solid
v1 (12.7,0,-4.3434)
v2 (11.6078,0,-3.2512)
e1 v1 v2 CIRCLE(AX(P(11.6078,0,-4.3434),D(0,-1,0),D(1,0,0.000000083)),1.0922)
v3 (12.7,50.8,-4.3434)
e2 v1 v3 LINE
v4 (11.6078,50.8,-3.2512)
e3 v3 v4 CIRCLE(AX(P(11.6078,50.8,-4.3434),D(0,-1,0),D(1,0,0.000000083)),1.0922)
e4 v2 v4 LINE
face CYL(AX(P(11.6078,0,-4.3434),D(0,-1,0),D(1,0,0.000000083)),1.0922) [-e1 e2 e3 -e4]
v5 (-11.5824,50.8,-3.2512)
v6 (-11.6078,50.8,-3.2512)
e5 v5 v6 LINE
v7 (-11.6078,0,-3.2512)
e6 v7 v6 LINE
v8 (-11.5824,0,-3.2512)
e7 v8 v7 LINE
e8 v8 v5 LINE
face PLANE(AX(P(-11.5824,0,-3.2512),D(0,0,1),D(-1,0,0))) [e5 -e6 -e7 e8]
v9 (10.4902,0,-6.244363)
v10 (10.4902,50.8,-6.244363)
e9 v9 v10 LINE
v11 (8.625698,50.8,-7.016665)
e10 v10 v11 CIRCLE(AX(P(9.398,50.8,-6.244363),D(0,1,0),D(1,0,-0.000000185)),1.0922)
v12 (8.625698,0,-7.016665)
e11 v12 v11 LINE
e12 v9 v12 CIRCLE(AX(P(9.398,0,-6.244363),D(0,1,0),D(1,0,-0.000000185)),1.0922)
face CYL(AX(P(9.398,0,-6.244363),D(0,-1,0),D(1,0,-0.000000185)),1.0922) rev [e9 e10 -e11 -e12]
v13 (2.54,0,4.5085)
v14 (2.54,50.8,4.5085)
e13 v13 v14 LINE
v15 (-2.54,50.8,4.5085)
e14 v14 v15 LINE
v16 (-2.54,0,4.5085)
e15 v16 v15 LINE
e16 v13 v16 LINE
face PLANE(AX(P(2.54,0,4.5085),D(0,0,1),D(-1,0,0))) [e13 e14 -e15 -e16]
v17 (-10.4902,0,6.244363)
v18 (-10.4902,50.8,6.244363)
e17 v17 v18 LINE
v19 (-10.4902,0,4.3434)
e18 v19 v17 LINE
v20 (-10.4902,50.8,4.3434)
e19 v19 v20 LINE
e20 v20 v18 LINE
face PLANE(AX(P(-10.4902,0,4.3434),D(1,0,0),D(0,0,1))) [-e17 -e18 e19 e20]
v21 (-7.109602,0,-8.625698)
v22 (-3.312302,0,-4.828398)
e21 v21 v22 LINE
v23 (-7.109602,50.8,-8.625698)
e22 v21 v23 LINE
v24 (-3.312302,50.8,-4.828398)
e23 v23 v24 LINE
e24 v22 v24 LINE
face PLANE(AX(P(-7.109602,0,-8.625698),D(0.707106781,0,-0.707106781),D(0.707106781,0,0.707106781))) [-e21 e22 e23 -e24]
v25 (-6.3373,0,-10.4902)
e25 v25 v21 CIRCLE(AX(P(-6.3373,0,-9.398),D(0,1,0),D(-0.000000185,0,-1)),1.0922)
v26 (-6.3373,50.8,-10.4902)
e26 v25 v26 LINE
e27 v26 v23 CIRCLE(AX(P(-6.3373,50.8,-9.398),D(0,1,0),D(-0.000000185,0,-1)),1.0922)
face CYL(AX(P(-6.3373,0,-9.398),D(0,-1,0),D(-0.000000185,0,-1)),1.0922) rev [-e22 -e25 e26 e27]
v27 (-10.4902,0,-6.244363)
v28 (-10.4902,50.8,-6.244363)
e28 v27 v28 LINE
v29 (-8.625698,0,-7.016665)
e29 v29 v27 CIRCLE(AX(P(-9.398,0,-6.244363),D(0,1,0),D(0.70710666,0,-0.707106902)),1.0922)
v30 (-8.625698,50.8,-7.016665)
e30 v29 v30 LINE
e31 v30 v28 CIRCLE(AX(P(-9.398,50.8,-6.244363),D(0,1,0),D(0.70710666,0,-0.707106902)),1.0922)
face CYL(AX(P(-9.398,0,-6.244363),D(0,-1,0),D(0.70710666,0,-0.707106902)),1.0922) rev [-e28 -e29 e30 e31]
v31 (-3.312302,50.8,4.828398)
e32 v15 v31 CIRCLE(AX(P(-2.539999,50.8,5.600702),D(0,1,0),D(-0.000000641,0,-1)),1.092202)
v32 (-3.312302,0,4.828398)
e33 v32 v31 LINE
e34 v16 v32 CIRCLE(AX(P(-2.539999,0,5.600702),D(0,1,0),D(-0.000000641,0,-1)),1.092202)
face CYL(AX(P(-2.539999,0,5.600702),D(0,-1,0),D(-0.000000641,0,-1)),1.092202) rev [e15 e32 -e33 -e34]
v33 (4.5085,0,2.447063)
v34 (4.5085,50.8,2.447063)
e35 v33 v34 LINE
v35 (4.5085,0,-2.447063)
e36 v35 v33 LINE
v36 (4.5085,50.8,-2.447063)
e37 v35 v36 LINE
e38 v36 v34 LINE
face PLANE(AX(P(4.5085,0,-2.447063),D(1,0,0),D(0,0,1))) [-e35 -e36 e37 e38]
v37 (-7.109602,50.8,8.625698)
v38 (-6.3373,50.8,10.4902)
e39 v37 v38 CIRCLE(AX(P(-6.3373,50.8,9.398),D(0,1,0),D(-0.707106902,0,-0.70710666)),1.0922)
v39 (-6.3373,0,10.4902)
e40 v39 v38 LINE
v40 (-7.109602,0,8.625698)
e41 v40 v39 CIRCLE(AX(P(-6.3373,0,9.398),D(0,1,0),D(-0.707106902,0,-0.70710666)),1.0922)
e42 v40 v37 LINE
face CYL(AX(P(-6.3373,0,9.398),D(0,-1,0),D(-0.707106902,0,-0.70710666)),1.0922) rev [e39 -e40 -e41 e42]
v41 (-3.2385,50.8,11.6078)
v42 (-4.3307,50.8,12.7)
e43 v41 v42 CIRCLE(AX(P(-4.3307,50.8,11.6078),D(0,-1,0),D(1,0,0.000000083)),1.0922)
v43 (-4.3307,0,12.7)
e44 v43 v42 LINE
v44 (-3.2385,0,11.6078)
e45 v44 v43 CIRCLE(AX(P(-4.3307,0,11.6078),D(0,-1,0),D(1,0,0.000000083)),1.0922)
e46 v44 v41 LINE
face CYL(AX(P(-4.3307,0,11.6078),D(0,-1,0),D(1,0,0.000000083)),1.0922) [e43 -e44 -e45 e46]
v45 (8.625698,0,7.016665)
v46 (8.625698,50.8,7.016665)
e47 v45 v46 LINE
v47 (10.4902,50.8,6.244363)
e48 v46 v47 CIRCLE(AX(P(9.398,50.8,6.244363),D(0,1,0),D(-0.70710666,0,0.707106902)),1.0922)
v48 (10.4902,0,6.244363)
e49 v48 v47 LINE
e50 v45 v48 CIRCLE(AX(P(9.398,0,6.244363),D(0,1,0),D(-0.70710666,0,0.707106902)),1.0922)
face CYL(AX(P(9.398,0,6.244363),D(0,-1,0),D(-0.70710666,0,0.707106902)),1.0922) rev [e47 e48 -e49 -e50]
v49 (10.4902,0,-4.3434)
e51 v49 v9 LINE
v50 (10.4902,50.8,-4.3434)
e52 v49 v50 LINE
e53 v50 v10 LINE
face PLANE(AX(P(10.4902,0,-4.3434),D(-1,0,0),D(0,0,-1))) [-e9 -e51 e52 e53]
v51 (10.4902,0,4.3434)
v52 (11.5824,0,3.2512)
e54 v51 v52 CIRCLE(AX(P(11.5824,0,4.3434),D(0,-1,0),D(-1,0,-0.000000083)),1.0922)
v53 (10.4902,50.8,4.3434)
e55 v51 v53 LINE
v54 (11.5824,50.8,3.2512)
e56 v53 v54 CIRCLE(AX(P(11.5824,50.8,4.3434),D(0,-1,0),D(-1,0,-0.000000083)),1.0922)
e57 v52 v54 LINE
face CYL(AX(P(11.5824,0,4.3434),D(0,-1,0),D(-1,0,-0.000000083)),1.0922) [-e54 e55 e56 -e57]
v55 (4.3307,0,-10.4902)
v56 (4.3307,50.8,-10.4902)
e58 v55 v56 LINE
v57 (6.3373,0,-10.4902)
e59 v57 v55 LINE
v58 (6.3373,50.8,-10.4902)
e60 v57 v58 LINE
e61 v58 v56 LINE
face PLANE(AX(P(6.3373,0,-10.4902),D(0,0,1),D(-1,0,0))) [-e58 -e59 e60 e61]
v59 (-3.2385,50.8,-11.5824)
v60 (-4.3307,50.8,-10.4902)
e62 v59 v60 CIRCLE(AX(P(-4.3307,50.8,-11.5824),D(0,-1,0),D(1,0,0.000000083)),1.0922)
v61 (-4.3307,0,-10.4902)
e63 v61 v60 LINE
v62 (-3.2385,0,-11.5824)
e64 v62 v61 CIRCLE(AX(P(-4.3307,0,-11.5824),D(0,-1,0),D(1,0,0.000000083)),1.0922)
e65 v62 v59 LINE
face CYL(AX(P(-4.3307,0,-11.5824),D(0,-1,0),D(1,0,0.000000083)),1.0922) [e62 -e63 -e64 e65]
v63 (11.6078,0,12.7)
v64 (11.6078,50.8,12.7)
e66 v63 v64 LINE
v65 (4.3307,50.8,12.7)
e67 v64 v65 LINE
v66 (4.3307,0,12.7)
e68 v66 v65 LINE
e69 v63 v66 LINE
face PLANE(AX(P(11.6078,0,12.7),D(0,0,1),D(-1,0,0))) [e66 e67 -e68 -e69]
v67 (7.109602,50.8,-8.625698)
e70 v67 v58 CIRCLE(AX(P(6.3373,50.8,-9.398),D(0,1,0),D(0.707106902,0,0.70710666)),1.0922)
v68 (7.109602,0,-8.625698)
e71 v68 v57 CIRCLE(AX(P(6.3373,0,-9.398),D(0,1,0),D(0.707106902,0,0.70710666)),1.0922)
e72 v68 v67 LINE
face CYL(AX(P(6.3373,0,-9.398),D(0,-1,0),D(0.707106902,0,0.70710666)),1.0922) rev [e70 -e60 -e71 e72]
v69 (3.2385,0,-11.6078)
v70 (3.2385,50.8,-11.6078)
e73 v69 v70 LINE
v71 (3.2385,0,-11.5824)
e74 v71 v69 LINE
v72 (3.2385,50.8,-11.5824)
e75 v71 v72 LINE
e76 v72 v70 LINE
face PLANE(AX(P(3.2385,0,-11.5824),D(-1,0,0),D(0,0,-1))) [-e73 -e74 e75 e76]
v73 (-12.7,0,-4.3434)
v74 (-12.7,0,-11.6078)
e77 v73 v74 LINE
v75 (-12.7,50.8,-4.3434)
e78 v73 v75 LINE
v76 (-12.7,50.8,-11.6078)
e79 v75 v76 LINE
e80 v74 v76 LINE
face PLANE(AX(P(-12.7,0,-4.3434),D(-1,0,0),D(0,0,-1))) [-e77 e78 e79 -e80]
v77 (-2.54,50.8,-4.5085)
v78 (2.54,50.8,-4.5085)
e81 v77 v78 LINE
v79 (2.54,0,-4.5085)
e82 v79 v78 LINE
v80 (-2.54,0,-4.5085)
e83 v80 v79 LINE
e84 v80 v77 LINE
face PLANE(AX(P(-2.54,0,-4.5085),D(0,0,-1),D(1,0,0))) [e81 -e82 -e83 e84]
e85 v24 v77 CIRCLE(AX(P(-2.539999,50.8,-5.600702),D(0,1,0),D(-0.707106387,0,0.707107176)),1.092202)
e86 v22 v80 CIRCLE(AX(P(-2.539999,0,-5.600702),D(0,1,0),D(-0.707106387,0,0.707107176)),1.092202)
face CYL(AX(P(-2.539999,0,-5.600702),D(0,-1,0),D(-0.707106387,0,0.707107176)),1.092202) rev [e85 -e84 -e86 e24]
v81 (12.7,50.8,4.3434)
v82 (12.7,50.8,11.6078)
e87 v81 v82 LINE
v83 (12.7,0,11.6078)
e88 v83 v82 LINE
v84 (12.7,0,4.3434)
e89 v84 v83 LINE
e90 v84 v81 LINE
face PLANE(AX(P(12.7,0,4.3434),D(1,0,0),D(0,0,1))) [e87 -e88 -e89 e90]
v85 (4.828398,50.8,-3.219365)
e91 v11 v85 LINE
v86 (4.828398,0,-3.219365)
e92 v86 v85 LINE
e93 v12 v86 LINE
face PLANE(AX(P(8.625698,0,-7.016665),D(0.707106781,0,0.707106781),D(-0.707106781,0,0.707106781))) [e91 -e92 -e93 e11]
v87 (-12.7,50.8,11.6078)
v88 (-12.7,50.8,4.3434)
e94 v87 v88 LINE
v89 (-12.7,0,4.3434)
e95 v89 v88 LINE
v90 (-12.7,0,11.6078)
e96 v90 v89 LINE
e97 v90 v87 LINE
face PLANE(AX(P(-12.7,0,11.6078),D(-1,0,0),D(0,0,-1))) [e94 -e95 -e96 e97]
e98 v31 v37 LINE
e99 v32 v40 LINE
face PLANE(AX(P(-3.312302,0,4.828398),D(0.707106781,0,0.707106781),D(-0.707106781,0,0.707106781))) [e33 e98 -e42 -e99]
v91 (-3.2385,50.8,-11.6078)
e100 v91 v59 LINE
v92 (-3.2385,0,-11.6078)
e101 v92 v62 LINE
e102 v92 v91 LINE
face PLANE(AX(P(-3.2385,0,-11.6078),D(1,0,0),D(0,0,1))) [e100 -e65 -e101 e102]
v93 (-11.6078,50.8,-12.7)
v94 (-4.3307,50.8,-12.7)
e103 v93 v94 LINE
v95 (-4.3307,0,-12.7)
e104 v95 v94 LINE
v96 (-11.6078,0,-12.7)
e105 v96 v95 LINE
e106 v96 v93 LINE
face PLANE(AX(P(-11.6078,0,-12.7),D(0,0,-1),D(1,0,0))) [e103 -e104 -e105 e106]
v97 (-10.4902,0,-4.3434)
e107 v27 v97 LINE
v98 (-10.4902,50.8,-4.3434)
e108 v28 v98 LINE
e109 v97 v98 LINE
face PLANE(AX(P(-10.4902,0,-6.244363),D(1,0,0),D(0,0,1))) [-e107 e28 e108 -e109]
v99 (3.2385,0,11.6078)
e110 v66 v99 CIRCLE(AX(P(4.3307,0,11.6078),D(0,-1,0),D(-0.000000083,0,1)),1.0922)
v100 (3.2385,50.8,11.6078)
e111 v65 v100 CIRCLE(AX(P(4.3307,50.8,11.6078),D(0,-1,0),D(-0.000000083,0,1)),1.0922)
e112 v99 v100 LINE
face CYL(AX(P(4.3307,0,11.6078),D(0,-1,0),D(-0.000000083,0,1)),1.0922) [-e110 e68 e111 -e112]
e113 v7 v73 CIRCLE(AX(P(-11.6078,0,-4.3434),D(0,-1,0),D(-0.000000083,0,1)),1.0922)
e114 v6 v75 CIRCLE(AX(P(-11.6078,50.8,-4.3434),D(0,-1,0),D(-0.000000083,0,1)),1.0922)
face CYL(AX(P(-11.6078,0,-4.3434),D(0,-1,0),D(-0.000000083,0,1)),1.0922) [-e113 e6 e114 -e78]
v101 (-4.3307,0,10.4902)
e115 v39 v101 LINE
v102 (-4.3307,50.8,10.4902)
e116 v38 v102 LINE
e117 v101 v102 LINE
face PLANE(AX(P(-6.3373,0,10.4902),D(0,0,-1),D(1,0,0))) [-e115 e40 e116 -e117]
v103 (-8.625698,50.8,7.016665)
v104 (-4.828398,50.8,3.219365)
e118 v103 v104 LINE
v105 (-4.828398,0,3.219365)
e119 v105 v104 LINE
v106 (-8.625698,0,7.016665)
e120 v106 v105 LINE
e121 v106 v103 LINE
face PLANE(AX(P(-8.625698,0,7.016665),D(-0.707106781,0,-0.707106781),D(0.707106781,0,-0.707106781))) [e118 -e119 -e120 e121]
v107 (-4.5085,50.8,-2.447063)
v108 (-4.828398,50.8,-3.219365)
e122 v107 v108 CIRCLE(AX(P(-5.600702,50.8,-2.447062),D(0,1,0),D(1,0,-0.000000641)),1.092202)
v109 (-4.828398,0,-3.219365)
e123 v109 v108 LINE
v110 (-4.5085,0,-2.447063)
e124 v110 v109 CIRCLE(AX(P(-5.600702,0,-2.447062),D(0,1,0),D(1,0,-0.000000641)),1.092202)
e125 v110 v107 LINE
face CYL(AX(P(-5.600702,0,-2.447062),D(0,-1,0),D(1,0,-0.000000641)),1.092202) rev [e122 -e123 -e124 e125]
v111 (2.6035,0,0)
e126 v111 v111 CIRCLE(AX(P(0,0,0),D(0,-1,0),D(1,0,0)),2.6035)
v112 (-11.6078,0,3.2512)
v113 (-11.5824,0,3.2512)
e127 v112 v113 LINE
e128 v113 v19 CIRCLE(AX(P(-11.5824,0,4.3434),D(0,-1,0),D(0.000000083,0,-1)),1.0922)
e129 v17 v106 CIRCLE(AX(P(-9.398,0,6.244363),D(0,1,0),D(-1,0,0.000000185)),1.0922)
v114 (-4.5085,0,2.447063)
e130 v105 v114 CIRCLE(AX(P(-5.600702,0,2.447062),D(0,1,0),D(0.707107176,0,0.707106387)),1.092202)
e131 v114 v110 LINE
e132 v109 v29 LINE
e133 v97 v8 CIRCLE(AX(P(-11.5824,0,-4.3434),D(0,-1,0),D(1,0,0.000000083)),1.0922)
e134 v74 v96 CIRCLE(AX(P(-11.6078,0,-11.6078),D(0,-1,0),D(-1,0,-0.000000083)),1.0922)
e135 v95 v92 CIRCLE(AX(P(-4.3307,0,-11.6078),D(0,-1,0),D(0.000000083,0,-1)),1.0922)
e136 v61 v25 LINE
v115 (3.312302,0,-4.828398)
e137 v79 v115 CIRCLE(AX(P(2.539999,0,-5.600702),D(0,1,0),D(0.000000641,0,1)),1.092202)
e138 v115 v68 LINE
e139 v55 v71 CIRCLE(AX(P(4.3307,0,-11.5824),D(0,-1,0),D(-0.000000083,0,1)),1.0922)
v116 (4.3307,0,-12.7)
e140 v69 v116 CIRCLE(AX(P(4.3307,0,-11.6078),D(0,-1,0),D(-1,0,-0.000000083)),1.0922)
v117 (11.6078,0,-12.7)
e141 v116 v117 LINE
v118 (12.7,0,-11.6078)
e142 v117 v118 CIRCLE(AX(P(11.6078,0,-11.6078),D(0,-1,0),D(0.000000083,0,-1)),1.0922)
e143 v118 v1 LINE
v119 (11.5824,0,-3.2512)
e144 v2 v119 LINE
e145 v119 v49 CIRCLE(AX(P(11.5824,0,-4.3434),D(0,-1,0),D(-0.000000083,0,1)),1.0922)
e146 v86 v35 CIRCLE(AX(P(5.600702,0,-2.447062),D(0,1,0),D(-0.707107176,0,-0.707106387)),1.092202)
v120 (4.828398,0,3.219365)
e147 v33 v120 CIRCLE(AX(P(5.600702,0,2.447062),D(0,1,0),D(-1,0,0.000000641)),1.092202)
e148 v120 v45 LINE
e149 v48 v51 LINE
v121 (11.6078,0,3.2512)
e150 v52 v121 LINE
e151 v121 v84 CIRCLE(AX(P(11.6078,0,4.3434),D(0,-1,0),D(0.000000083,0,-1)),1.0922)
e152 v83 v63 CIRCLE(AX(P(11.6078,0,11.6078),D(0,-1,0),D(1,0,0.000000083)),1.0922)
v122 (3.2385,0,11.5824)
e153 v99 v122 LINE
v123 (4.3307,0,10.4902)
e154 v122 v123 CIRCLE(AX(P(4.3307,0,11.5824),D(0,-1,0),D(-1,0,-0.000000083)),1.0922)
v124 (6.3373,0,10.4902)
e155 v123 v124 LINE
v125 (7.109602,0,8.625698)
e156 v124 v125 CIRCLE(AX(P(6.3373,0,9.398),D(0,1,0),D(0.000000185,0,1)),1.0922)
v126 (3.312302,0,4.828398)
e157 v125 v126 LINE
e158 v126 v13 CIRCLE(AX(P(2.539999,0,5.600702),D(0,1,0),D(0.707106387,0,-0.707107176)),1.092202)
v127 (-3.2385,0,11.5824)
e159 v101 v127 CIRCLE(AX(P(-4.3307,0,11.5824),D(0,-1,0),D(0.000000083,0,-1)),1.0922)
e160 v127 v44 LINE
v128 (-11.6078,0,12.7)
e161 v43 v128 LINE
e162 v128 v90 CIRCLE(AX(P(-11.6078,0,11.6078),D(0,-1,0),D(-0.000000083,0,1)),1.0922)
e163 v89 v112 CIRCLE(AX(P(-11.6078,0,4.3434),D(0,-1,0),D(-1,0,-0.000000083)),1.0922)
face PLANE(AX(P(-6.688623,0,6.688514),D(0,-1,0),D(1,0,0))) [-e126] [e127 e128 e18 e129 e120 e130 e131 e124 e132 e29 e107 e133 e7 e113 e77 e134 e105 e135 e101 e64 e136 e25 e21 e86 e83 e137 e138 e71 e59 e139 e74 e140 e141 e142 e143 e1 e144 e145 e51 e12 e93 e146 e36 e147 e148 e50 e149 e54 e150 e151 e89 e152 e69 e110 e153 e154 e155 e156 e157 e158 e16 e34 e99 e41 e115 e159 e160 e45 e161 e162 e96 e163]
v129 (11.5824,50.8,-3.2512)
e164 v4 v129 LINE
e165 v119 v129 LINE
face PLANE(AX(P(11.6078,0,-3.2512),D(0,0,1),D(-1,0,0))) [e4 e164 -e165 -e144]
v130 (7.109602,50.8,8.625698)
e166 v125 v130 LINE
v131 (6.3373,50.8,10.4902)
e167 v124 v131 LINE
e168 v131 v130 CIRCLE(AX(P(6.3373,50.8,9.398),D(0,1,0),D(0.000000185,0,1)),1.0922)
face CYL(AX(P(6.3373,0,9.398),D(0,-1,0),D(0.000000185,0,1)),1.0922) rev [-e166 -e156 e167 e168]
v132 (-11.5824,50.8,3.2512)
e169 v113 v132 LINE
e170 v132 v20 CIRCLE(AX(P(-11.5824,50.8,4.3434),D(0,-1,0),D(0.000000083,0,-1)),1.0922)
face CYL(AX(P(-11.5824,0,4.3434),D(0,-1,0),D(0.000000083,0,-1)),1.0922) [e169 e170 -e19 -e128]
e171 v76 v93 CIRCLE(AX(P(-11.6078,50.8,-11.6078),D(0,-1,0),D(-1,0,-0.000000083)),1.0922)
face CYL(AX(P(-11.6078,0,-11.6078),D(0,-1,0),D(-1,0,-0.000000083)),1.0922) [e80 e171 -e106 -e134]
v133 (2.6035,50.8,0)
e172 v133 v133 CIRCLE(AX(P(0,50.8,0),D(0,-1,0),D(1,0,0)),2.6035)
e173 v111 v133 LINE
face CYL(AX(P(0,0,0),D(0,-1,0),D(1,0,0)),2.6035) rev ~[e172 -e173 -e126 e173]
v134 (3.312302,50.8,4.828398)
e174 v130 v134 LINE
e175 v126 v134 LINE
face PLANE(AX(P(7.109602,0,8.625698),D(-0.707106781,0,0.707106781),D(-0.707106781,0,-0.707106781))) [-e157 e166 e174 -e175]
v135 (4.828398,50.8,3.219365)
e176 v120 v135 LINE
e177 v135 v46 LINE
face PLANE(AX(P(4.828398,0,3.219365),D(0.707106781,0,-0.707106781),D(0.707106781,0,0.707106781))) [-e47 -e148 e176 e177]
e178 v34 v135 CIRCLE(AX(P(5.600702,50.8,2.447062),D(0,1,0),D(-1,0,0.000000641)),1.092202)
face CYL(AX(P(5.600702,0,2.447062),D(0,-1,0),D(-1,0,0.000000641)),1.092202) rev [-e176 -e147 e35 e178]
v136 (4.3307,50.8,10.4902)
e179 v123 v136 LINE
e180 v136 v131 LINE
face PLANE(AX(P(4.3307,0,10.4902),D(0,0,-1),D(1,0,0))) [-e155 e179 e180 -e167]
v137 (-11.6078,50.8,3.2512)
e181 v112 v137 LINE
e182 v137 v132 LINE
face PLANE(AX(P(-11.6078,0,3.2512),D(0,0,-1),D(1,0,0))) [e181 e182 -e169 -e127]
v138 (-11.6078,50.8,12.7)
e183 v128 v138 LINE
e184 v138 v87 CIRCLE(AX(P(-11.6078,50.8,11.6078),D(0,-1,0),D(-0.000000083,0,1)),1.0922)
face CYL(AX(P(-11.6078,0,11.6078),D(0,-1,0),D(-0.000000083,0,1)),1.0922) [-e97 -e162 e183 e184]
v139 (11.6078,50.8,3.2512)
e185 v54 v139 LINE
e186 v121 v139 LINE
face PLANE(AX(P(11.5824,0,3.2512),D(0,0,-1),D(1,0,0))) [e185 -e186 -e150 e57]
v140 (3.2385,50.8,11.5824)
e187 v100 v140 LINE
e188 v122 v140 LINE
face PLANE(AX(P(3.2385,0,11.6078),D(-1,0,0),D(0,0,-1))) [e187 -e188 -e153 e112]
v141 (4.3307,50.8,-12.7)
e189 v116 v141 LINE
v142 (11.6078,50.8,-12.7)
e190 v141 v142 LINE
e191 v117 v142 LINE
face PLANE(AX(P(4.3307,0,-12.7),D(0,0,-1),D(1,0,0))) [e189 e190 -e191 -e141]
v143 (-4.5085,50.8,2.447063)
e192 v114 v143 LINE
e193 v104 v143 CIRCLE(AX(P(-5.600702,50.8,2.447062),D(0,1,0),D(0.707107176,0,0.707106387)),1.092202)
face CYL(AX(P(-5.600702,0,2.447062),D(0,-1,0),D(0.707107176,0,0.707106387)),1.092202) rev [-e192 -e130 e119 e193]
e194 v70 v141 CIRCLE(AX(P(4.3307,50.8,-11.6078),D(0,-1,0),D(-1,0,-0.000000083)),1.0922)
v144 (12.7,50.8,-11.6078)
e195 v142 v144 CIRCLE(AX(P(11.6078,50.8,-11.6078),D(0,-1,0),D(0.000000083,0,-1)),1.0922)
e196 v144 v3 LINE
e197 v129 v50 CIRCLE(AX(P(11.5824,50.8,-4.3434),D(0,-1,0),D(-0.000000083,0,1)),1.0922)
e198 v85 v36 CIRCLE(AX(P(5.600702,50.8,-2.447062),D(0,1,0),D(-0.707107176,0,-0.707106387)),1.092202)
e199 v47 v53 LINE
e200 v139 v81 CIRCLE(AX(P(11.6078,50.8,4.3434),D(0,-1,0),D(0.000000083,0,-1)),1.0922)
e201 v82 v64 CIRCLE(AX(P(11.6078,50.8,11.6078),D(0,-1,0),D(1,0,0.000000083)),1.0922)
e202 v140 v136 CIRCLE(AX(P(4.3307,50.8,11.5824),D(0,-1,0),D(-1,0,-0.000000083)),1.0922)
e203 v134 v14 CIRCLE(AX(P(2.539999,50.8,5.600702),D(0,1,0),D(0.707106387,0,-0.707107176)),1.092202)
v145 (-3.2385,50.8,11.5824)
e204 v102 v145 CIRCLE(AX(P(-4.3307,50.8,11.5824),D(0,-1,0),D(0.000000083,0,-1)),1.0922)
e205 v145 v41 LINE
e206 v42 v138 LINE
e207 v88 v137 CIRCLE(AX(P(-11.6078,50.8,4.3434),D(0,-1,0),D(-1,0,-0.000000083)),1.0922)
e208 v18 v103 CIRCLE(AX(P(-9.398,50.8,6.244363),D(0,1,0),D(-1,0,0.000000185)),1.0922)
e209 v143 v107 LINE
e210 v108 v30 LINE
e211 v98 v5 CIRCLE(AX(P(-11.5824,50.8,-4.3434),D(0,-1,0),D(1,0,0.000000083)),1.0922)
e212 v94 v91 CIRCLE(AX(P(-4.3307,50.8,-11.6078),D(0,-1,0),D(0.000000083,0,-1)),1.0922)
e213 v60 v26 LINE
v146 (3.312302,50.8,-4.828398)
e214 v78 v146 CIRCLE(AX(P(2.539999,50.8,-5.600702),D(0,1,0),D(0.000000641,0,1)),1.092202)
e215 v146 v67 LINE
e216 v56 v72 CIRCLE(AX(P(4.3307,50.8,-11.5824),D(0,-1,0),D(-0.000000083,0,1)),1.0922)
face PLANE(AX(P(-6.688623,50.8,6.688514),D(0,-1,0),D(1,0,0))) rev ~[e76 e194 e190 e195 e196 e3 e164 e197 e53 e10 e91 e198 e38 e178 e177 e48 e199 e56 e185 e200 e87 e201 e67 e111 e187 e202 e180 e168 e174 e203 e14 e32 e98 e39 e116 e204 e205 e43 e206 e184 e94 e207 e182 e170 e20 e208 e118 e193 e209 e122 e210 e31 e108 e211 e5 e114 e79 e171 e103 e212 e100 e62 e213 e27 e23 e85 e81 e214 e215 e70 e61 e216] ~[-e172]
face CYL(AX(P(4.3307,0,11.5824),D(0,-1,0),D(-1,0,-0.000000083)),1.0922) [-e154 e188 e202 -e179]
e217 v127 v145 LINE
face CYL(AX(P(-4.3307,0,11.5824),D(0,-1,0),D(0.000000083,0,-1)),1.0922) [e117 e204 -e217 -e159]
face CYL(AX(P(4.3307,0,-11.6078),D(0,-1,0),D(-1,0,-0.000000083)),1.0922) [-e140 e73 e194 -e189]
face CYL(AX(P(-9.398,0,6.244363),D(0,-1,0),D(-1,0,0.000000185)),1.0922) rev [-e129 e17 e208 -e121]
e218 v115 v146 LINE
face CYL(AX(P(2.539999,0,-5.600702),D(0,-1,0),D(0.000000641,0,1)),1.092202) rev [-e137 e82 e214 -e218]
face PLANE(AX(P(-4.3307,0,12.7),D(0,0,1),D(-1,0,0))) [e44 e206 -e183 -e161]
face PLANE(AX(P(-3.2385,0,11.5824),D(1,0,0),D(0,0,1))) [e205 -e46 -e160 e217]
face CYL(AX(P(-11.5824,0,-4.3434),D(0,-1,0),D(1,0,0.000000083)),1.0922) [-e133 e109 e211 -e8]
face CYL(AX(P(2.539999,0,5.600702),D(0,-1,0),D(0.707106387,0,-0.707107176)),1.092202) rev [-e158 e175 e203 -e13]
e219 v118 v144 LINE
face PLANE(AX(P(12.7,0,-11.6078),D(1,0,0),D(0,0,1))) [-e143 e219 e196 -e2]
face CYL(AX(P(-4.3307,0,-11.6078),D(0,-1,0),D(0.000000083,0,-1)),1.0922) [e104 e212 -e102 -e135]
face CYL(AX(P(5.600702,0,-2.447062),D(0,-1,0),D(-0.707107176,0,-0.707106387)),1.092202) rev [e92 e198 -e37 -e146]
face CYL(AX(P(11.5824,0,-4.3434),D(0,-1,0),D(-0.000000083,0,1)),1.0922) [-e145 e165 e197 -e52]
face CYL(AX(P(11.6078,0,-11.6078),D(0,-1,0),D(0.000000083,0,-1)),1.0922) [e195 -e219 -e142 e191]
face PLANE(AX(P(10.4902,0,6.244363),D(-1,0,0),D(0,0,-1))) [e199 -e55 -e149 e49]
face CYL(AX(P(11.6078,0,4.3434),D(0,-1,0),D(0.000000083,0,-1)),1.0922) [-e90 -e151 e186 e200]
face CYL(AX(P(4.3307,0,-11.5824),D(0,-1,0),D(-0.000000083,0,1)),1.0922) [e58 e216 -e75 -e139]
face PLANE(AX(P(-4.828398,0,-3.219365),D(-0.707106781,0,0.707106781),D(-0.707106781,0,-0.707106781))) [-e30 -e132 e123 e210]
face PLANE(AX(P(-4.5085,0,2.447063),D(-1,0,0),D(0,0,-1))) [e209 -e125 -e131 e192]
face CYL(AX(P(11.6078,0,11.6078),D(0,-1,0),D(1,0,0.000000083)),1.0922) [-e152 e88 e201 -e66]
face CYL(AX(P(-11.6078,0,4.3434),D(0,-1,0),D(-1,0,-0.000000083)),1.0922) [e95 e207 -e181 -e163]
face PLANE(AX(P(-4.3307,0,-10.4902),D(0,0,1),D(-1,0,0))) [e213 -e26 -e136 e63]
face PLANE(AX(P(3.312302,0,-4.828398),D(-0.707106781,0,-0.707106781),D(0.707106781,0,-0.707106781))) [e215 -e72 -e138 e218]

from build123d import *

# Parameters (mm, degrees)
F1_DEPTH = 50.8
F2_R     = 2.6035
F3_DEPTH = 50.801


with BuildPart() as f1:
    # F0 (on Front) → F1 (new body)
    with BuildSketch(Plane.XZ):
        with BuildLine():
            Line((-4.5085, 0), (0, 0))
            Line((0, 0), (0, 4.5085))
            Line((0, 4.5085), (-2.54, 4.5085))
            ThreePointArc((-2.54, 4.5085), (-2.957967, 4.591639), (-3.312302, 4.828398))
            Line((-3.312302, 4.828398), (-7.109602, 8.625698))
            ThreePointArc((-7.109602, 8.625698), (-7.346361, 9.815967), (-6.3373, 10.4902))
            Line((-6.3373, 10.4902), (-4.3307, 10.4902))
            ThreePointArc((-4.3307, 10.4902), (-3.558398, 10.810098), (-3.2385, 11.5824))
            Line((-3.2385, 11.5824), (-3.2385, 11.6078))
            ThreePointArc((-3.2385, 11.6078), (-3.558398, 12.380102), (-4.3307, 12.7))
            Line((-4.3307, 12.7), (-11.6078, 12.7))
            ThreePointArc((-11.6078, 12.7), (-12.380102, 12.380102), (-12.7, 11.6078))
            Line((-12.7, 11.6078), (-12.7, 4.3434))
            ThreePointArc((-12.7, 4.3434), (-12.380102, 3.571098), (-11.6078, 3.2512))
            Line((-11.6078, 3.2512), (-11.5824, 3.2512))
            ThreePointArc((-11.5824, 3.2512), (-10.810098, 3.571098), (-10.4902, 4.3434))
            Line((-10.4902, 4.3434), (-10.4902, 6.244363))
            ThreePointArc((-10.4902, 6.244363), (-9.815967, 7.253424), (-8.625698, 7.016665))
            Line((-8.625698, 7.016665), (-4.828398, 3.219365))
            ThreePointArc((-4.828398, 3.219365), (-4.591639, 2.86503), (-4.5085, 2.447063))
            Line((-4.5085, 2.447063), (-4.5085, 0))
        make_face()
        with BuildLine():
            Line((0, 4.5085), (0, 0))
            Line((0, 0), (4.5085, 0))
            Line((4.5085, 0), (4.5085, 2.447063))
            ThreePointArc((4.5085, 2.447063), (4.591639, 2.86503), (4.828398, 3.219365))
            Line((4.828398, 3.219365), (8.625698, 7.016665))
            ThreePointArc((8.625698, 7.016665), (9.815967, 7.253424), (10.4902, 6.244363))
            Line((10.4902, 6.244363), (10.4902, 4.3434))
            ThreePointArc((10.4902, 4.3434), (10.810098, 3.571098), (11.5824, 3.2512))
            Line((11.5824, 3.2512), (11.6078, 3.2512))
            ThreePointArc((11.6078, 3.2512), (12.380102, 3.571098), (12.7, 4.3434))
            Line((12.7, 4.3434), (12.7, 11.6078))
            ThreePointArc((12.7, 11.6078), (12.380102, 12.380102), (11.6078, 12.7))
            Line((11.6078, 12.7), (4.3307, 12.7))
            ThreePointArc((4.3307, 12.7), (3.558398, 12.380102), (3.2385, 11.6078))
            Line((3.2385, 11.6078), (3.2385, 11.5824))
            ThreePointArc((3.2385, 11.5824), (3.558398, 10.810098), (4.3307, 10.4902))
            Line((4.3307, 10.4902), (6.3373, 10.4902))
            ThreePointArc((6.3373, 10.4902), (7.346361, 9.815967), (7.109602, 8.625698))
            Line((7.109602, 8.625698), (3.312302, 4.828398))
            ThreePointArc((3.312302, 4.828398), (2.957967, 4.591639), (2.54, 4.5085))
            Line((2.54, 4.5085), (0, 4.5085))
        make_face()
        with BuildLine():
            Line((4.5085, 0), (0, 0))
            Line((0, 0), (0, -4.5085))
            Line((0, -4.5085), (2.54, -4.5085))
            ThreePointArc((2.54, -4.5085), (2.957967, -4.591639), (3.312302, -4.828398))
            Line((3.312302, -4.828398), (7.109602, -8.625698))
            ThreePointArc((7.109602, -8.625698), (7.346361, -9.815967), (6.3373, -10.4902))
            Line((6.3373, -10.4902), (4.3307, -10.4902))
            ThreePointArc((4.3307, -10.4902), (3.558398, -10.810098), (3.2385, -11.5824))
            Line((3.2385, -11.5824), (3.2385, -11.6078))
            ThreePointArc((3.2385, -11.6078), (3.558398, -12.380102), (4.3307, -12.7))
            Line((4.3307, -12.7), (11.6078, -12.7))
            ThreePointArc((11.6078, -12.7), (12.380102, -12.380102), (12.7, -11.6078))
            Line((12.7, -11.6078), (12.7, -4.3434))
            ThreePointArc((12.7, -4.3434), (12.380102, -3.571098), (11.6078, -3.2512))
            Line((11.6078, -3.2512), (11.5824, -3.2512))
            ThreePointArc((11.5824, -3.2512), (10.810098, -3.571098), (10.4902, -4.3434))
            Line((10.4902, -4.3434), (10.4902, -6.244363))
            ThreePointArc((10.4902, -6.244363), (9.815967, -7.253424), (8.625698, -7.016665))
            Line((8.625698, -7.016665), (4.828398, -3.219365))
            ThreePointArc((4.828398, -3.219365), (4.591639, -2.86503), (4.5085, -2.447063))
            Line((4.5085, -2.447063), (4.5085, 0))
        make_face()
        with BuildLine():
            Line((0, -4.5085), (0, 0))
            Line((0, 0), (-4.5085, 0))
            Line((-4.5085, 0), (-4.5085, -2.447063))
            ThreePointArc((-4.5085, -2.447063), (-4.591639, -2.86503), (-4.828398, -3.219365))
            Line((-4.828398, -3.219365), (-8.625698, -7.016665))
            ThreePointArc((-8.625698, -7.016665), (-9.815967, -7.253424), (-10.4902, -6.244363))
            Line((-10.4902, -6.244363), (-10.4902, -4.3434))
            ThreePointArc((-10.4902, -4.3434), (-10.810098, -3.571098), (-11.5824, -3.2512))
            Line((-11.5824, -3.2512), (-11.6078, -3.2512))
            ThreePointArc((-11.6078, -3.2512), (-12.380102, -3.571098), (-12.7, -4.3434))
            Line((-12.7, -4.3434), (-12.7, -11.6078))
            ThreePointArc((-12.7, -11.6078), (-12.380102, -12.380102), (-11.6078, -12.7))
            Line((-11.6078, -12.7), (-4.3307, -12.7))
            ThreePointArc((-4.3307, -12.7), (-3.558398, -12.380102), (-3.2385, -11.6078))
            Line((-3.2385, -11.6078), (-3.2385, -11.5824))
            ThreePointArc((-3.2385, -11.5824), (-3.558398, -10.810098), (-4.3307, -10.4902))
            Line((-4.3307, -10.4902), (-6.3373, -10.4902))
            ThreePointArc((-6.3373, -10.4902), (-7.346361, -9.815967), (-7.109602, -8.625698))
            Line((-7.109602, -8.625698), (-3.312302, -4.828398))
            ThreePointArc((-3.312302, -4.828398), (-2.957967, -4.591639), (-2.54, -4.5085))
            Line((-2.54, -4.5085), (0, -4.5085))
        make_face()
    extrude(amount=-F1_DEPTH)

    # F2 (on face) → F3 (cut, through all)
    with BuildSketch(Plane.XZ):
        Circle(F2_R)
    extrude(amount=-F3_DEPTH, mode=Mode.SUBTRACT)


solid = f1.part
